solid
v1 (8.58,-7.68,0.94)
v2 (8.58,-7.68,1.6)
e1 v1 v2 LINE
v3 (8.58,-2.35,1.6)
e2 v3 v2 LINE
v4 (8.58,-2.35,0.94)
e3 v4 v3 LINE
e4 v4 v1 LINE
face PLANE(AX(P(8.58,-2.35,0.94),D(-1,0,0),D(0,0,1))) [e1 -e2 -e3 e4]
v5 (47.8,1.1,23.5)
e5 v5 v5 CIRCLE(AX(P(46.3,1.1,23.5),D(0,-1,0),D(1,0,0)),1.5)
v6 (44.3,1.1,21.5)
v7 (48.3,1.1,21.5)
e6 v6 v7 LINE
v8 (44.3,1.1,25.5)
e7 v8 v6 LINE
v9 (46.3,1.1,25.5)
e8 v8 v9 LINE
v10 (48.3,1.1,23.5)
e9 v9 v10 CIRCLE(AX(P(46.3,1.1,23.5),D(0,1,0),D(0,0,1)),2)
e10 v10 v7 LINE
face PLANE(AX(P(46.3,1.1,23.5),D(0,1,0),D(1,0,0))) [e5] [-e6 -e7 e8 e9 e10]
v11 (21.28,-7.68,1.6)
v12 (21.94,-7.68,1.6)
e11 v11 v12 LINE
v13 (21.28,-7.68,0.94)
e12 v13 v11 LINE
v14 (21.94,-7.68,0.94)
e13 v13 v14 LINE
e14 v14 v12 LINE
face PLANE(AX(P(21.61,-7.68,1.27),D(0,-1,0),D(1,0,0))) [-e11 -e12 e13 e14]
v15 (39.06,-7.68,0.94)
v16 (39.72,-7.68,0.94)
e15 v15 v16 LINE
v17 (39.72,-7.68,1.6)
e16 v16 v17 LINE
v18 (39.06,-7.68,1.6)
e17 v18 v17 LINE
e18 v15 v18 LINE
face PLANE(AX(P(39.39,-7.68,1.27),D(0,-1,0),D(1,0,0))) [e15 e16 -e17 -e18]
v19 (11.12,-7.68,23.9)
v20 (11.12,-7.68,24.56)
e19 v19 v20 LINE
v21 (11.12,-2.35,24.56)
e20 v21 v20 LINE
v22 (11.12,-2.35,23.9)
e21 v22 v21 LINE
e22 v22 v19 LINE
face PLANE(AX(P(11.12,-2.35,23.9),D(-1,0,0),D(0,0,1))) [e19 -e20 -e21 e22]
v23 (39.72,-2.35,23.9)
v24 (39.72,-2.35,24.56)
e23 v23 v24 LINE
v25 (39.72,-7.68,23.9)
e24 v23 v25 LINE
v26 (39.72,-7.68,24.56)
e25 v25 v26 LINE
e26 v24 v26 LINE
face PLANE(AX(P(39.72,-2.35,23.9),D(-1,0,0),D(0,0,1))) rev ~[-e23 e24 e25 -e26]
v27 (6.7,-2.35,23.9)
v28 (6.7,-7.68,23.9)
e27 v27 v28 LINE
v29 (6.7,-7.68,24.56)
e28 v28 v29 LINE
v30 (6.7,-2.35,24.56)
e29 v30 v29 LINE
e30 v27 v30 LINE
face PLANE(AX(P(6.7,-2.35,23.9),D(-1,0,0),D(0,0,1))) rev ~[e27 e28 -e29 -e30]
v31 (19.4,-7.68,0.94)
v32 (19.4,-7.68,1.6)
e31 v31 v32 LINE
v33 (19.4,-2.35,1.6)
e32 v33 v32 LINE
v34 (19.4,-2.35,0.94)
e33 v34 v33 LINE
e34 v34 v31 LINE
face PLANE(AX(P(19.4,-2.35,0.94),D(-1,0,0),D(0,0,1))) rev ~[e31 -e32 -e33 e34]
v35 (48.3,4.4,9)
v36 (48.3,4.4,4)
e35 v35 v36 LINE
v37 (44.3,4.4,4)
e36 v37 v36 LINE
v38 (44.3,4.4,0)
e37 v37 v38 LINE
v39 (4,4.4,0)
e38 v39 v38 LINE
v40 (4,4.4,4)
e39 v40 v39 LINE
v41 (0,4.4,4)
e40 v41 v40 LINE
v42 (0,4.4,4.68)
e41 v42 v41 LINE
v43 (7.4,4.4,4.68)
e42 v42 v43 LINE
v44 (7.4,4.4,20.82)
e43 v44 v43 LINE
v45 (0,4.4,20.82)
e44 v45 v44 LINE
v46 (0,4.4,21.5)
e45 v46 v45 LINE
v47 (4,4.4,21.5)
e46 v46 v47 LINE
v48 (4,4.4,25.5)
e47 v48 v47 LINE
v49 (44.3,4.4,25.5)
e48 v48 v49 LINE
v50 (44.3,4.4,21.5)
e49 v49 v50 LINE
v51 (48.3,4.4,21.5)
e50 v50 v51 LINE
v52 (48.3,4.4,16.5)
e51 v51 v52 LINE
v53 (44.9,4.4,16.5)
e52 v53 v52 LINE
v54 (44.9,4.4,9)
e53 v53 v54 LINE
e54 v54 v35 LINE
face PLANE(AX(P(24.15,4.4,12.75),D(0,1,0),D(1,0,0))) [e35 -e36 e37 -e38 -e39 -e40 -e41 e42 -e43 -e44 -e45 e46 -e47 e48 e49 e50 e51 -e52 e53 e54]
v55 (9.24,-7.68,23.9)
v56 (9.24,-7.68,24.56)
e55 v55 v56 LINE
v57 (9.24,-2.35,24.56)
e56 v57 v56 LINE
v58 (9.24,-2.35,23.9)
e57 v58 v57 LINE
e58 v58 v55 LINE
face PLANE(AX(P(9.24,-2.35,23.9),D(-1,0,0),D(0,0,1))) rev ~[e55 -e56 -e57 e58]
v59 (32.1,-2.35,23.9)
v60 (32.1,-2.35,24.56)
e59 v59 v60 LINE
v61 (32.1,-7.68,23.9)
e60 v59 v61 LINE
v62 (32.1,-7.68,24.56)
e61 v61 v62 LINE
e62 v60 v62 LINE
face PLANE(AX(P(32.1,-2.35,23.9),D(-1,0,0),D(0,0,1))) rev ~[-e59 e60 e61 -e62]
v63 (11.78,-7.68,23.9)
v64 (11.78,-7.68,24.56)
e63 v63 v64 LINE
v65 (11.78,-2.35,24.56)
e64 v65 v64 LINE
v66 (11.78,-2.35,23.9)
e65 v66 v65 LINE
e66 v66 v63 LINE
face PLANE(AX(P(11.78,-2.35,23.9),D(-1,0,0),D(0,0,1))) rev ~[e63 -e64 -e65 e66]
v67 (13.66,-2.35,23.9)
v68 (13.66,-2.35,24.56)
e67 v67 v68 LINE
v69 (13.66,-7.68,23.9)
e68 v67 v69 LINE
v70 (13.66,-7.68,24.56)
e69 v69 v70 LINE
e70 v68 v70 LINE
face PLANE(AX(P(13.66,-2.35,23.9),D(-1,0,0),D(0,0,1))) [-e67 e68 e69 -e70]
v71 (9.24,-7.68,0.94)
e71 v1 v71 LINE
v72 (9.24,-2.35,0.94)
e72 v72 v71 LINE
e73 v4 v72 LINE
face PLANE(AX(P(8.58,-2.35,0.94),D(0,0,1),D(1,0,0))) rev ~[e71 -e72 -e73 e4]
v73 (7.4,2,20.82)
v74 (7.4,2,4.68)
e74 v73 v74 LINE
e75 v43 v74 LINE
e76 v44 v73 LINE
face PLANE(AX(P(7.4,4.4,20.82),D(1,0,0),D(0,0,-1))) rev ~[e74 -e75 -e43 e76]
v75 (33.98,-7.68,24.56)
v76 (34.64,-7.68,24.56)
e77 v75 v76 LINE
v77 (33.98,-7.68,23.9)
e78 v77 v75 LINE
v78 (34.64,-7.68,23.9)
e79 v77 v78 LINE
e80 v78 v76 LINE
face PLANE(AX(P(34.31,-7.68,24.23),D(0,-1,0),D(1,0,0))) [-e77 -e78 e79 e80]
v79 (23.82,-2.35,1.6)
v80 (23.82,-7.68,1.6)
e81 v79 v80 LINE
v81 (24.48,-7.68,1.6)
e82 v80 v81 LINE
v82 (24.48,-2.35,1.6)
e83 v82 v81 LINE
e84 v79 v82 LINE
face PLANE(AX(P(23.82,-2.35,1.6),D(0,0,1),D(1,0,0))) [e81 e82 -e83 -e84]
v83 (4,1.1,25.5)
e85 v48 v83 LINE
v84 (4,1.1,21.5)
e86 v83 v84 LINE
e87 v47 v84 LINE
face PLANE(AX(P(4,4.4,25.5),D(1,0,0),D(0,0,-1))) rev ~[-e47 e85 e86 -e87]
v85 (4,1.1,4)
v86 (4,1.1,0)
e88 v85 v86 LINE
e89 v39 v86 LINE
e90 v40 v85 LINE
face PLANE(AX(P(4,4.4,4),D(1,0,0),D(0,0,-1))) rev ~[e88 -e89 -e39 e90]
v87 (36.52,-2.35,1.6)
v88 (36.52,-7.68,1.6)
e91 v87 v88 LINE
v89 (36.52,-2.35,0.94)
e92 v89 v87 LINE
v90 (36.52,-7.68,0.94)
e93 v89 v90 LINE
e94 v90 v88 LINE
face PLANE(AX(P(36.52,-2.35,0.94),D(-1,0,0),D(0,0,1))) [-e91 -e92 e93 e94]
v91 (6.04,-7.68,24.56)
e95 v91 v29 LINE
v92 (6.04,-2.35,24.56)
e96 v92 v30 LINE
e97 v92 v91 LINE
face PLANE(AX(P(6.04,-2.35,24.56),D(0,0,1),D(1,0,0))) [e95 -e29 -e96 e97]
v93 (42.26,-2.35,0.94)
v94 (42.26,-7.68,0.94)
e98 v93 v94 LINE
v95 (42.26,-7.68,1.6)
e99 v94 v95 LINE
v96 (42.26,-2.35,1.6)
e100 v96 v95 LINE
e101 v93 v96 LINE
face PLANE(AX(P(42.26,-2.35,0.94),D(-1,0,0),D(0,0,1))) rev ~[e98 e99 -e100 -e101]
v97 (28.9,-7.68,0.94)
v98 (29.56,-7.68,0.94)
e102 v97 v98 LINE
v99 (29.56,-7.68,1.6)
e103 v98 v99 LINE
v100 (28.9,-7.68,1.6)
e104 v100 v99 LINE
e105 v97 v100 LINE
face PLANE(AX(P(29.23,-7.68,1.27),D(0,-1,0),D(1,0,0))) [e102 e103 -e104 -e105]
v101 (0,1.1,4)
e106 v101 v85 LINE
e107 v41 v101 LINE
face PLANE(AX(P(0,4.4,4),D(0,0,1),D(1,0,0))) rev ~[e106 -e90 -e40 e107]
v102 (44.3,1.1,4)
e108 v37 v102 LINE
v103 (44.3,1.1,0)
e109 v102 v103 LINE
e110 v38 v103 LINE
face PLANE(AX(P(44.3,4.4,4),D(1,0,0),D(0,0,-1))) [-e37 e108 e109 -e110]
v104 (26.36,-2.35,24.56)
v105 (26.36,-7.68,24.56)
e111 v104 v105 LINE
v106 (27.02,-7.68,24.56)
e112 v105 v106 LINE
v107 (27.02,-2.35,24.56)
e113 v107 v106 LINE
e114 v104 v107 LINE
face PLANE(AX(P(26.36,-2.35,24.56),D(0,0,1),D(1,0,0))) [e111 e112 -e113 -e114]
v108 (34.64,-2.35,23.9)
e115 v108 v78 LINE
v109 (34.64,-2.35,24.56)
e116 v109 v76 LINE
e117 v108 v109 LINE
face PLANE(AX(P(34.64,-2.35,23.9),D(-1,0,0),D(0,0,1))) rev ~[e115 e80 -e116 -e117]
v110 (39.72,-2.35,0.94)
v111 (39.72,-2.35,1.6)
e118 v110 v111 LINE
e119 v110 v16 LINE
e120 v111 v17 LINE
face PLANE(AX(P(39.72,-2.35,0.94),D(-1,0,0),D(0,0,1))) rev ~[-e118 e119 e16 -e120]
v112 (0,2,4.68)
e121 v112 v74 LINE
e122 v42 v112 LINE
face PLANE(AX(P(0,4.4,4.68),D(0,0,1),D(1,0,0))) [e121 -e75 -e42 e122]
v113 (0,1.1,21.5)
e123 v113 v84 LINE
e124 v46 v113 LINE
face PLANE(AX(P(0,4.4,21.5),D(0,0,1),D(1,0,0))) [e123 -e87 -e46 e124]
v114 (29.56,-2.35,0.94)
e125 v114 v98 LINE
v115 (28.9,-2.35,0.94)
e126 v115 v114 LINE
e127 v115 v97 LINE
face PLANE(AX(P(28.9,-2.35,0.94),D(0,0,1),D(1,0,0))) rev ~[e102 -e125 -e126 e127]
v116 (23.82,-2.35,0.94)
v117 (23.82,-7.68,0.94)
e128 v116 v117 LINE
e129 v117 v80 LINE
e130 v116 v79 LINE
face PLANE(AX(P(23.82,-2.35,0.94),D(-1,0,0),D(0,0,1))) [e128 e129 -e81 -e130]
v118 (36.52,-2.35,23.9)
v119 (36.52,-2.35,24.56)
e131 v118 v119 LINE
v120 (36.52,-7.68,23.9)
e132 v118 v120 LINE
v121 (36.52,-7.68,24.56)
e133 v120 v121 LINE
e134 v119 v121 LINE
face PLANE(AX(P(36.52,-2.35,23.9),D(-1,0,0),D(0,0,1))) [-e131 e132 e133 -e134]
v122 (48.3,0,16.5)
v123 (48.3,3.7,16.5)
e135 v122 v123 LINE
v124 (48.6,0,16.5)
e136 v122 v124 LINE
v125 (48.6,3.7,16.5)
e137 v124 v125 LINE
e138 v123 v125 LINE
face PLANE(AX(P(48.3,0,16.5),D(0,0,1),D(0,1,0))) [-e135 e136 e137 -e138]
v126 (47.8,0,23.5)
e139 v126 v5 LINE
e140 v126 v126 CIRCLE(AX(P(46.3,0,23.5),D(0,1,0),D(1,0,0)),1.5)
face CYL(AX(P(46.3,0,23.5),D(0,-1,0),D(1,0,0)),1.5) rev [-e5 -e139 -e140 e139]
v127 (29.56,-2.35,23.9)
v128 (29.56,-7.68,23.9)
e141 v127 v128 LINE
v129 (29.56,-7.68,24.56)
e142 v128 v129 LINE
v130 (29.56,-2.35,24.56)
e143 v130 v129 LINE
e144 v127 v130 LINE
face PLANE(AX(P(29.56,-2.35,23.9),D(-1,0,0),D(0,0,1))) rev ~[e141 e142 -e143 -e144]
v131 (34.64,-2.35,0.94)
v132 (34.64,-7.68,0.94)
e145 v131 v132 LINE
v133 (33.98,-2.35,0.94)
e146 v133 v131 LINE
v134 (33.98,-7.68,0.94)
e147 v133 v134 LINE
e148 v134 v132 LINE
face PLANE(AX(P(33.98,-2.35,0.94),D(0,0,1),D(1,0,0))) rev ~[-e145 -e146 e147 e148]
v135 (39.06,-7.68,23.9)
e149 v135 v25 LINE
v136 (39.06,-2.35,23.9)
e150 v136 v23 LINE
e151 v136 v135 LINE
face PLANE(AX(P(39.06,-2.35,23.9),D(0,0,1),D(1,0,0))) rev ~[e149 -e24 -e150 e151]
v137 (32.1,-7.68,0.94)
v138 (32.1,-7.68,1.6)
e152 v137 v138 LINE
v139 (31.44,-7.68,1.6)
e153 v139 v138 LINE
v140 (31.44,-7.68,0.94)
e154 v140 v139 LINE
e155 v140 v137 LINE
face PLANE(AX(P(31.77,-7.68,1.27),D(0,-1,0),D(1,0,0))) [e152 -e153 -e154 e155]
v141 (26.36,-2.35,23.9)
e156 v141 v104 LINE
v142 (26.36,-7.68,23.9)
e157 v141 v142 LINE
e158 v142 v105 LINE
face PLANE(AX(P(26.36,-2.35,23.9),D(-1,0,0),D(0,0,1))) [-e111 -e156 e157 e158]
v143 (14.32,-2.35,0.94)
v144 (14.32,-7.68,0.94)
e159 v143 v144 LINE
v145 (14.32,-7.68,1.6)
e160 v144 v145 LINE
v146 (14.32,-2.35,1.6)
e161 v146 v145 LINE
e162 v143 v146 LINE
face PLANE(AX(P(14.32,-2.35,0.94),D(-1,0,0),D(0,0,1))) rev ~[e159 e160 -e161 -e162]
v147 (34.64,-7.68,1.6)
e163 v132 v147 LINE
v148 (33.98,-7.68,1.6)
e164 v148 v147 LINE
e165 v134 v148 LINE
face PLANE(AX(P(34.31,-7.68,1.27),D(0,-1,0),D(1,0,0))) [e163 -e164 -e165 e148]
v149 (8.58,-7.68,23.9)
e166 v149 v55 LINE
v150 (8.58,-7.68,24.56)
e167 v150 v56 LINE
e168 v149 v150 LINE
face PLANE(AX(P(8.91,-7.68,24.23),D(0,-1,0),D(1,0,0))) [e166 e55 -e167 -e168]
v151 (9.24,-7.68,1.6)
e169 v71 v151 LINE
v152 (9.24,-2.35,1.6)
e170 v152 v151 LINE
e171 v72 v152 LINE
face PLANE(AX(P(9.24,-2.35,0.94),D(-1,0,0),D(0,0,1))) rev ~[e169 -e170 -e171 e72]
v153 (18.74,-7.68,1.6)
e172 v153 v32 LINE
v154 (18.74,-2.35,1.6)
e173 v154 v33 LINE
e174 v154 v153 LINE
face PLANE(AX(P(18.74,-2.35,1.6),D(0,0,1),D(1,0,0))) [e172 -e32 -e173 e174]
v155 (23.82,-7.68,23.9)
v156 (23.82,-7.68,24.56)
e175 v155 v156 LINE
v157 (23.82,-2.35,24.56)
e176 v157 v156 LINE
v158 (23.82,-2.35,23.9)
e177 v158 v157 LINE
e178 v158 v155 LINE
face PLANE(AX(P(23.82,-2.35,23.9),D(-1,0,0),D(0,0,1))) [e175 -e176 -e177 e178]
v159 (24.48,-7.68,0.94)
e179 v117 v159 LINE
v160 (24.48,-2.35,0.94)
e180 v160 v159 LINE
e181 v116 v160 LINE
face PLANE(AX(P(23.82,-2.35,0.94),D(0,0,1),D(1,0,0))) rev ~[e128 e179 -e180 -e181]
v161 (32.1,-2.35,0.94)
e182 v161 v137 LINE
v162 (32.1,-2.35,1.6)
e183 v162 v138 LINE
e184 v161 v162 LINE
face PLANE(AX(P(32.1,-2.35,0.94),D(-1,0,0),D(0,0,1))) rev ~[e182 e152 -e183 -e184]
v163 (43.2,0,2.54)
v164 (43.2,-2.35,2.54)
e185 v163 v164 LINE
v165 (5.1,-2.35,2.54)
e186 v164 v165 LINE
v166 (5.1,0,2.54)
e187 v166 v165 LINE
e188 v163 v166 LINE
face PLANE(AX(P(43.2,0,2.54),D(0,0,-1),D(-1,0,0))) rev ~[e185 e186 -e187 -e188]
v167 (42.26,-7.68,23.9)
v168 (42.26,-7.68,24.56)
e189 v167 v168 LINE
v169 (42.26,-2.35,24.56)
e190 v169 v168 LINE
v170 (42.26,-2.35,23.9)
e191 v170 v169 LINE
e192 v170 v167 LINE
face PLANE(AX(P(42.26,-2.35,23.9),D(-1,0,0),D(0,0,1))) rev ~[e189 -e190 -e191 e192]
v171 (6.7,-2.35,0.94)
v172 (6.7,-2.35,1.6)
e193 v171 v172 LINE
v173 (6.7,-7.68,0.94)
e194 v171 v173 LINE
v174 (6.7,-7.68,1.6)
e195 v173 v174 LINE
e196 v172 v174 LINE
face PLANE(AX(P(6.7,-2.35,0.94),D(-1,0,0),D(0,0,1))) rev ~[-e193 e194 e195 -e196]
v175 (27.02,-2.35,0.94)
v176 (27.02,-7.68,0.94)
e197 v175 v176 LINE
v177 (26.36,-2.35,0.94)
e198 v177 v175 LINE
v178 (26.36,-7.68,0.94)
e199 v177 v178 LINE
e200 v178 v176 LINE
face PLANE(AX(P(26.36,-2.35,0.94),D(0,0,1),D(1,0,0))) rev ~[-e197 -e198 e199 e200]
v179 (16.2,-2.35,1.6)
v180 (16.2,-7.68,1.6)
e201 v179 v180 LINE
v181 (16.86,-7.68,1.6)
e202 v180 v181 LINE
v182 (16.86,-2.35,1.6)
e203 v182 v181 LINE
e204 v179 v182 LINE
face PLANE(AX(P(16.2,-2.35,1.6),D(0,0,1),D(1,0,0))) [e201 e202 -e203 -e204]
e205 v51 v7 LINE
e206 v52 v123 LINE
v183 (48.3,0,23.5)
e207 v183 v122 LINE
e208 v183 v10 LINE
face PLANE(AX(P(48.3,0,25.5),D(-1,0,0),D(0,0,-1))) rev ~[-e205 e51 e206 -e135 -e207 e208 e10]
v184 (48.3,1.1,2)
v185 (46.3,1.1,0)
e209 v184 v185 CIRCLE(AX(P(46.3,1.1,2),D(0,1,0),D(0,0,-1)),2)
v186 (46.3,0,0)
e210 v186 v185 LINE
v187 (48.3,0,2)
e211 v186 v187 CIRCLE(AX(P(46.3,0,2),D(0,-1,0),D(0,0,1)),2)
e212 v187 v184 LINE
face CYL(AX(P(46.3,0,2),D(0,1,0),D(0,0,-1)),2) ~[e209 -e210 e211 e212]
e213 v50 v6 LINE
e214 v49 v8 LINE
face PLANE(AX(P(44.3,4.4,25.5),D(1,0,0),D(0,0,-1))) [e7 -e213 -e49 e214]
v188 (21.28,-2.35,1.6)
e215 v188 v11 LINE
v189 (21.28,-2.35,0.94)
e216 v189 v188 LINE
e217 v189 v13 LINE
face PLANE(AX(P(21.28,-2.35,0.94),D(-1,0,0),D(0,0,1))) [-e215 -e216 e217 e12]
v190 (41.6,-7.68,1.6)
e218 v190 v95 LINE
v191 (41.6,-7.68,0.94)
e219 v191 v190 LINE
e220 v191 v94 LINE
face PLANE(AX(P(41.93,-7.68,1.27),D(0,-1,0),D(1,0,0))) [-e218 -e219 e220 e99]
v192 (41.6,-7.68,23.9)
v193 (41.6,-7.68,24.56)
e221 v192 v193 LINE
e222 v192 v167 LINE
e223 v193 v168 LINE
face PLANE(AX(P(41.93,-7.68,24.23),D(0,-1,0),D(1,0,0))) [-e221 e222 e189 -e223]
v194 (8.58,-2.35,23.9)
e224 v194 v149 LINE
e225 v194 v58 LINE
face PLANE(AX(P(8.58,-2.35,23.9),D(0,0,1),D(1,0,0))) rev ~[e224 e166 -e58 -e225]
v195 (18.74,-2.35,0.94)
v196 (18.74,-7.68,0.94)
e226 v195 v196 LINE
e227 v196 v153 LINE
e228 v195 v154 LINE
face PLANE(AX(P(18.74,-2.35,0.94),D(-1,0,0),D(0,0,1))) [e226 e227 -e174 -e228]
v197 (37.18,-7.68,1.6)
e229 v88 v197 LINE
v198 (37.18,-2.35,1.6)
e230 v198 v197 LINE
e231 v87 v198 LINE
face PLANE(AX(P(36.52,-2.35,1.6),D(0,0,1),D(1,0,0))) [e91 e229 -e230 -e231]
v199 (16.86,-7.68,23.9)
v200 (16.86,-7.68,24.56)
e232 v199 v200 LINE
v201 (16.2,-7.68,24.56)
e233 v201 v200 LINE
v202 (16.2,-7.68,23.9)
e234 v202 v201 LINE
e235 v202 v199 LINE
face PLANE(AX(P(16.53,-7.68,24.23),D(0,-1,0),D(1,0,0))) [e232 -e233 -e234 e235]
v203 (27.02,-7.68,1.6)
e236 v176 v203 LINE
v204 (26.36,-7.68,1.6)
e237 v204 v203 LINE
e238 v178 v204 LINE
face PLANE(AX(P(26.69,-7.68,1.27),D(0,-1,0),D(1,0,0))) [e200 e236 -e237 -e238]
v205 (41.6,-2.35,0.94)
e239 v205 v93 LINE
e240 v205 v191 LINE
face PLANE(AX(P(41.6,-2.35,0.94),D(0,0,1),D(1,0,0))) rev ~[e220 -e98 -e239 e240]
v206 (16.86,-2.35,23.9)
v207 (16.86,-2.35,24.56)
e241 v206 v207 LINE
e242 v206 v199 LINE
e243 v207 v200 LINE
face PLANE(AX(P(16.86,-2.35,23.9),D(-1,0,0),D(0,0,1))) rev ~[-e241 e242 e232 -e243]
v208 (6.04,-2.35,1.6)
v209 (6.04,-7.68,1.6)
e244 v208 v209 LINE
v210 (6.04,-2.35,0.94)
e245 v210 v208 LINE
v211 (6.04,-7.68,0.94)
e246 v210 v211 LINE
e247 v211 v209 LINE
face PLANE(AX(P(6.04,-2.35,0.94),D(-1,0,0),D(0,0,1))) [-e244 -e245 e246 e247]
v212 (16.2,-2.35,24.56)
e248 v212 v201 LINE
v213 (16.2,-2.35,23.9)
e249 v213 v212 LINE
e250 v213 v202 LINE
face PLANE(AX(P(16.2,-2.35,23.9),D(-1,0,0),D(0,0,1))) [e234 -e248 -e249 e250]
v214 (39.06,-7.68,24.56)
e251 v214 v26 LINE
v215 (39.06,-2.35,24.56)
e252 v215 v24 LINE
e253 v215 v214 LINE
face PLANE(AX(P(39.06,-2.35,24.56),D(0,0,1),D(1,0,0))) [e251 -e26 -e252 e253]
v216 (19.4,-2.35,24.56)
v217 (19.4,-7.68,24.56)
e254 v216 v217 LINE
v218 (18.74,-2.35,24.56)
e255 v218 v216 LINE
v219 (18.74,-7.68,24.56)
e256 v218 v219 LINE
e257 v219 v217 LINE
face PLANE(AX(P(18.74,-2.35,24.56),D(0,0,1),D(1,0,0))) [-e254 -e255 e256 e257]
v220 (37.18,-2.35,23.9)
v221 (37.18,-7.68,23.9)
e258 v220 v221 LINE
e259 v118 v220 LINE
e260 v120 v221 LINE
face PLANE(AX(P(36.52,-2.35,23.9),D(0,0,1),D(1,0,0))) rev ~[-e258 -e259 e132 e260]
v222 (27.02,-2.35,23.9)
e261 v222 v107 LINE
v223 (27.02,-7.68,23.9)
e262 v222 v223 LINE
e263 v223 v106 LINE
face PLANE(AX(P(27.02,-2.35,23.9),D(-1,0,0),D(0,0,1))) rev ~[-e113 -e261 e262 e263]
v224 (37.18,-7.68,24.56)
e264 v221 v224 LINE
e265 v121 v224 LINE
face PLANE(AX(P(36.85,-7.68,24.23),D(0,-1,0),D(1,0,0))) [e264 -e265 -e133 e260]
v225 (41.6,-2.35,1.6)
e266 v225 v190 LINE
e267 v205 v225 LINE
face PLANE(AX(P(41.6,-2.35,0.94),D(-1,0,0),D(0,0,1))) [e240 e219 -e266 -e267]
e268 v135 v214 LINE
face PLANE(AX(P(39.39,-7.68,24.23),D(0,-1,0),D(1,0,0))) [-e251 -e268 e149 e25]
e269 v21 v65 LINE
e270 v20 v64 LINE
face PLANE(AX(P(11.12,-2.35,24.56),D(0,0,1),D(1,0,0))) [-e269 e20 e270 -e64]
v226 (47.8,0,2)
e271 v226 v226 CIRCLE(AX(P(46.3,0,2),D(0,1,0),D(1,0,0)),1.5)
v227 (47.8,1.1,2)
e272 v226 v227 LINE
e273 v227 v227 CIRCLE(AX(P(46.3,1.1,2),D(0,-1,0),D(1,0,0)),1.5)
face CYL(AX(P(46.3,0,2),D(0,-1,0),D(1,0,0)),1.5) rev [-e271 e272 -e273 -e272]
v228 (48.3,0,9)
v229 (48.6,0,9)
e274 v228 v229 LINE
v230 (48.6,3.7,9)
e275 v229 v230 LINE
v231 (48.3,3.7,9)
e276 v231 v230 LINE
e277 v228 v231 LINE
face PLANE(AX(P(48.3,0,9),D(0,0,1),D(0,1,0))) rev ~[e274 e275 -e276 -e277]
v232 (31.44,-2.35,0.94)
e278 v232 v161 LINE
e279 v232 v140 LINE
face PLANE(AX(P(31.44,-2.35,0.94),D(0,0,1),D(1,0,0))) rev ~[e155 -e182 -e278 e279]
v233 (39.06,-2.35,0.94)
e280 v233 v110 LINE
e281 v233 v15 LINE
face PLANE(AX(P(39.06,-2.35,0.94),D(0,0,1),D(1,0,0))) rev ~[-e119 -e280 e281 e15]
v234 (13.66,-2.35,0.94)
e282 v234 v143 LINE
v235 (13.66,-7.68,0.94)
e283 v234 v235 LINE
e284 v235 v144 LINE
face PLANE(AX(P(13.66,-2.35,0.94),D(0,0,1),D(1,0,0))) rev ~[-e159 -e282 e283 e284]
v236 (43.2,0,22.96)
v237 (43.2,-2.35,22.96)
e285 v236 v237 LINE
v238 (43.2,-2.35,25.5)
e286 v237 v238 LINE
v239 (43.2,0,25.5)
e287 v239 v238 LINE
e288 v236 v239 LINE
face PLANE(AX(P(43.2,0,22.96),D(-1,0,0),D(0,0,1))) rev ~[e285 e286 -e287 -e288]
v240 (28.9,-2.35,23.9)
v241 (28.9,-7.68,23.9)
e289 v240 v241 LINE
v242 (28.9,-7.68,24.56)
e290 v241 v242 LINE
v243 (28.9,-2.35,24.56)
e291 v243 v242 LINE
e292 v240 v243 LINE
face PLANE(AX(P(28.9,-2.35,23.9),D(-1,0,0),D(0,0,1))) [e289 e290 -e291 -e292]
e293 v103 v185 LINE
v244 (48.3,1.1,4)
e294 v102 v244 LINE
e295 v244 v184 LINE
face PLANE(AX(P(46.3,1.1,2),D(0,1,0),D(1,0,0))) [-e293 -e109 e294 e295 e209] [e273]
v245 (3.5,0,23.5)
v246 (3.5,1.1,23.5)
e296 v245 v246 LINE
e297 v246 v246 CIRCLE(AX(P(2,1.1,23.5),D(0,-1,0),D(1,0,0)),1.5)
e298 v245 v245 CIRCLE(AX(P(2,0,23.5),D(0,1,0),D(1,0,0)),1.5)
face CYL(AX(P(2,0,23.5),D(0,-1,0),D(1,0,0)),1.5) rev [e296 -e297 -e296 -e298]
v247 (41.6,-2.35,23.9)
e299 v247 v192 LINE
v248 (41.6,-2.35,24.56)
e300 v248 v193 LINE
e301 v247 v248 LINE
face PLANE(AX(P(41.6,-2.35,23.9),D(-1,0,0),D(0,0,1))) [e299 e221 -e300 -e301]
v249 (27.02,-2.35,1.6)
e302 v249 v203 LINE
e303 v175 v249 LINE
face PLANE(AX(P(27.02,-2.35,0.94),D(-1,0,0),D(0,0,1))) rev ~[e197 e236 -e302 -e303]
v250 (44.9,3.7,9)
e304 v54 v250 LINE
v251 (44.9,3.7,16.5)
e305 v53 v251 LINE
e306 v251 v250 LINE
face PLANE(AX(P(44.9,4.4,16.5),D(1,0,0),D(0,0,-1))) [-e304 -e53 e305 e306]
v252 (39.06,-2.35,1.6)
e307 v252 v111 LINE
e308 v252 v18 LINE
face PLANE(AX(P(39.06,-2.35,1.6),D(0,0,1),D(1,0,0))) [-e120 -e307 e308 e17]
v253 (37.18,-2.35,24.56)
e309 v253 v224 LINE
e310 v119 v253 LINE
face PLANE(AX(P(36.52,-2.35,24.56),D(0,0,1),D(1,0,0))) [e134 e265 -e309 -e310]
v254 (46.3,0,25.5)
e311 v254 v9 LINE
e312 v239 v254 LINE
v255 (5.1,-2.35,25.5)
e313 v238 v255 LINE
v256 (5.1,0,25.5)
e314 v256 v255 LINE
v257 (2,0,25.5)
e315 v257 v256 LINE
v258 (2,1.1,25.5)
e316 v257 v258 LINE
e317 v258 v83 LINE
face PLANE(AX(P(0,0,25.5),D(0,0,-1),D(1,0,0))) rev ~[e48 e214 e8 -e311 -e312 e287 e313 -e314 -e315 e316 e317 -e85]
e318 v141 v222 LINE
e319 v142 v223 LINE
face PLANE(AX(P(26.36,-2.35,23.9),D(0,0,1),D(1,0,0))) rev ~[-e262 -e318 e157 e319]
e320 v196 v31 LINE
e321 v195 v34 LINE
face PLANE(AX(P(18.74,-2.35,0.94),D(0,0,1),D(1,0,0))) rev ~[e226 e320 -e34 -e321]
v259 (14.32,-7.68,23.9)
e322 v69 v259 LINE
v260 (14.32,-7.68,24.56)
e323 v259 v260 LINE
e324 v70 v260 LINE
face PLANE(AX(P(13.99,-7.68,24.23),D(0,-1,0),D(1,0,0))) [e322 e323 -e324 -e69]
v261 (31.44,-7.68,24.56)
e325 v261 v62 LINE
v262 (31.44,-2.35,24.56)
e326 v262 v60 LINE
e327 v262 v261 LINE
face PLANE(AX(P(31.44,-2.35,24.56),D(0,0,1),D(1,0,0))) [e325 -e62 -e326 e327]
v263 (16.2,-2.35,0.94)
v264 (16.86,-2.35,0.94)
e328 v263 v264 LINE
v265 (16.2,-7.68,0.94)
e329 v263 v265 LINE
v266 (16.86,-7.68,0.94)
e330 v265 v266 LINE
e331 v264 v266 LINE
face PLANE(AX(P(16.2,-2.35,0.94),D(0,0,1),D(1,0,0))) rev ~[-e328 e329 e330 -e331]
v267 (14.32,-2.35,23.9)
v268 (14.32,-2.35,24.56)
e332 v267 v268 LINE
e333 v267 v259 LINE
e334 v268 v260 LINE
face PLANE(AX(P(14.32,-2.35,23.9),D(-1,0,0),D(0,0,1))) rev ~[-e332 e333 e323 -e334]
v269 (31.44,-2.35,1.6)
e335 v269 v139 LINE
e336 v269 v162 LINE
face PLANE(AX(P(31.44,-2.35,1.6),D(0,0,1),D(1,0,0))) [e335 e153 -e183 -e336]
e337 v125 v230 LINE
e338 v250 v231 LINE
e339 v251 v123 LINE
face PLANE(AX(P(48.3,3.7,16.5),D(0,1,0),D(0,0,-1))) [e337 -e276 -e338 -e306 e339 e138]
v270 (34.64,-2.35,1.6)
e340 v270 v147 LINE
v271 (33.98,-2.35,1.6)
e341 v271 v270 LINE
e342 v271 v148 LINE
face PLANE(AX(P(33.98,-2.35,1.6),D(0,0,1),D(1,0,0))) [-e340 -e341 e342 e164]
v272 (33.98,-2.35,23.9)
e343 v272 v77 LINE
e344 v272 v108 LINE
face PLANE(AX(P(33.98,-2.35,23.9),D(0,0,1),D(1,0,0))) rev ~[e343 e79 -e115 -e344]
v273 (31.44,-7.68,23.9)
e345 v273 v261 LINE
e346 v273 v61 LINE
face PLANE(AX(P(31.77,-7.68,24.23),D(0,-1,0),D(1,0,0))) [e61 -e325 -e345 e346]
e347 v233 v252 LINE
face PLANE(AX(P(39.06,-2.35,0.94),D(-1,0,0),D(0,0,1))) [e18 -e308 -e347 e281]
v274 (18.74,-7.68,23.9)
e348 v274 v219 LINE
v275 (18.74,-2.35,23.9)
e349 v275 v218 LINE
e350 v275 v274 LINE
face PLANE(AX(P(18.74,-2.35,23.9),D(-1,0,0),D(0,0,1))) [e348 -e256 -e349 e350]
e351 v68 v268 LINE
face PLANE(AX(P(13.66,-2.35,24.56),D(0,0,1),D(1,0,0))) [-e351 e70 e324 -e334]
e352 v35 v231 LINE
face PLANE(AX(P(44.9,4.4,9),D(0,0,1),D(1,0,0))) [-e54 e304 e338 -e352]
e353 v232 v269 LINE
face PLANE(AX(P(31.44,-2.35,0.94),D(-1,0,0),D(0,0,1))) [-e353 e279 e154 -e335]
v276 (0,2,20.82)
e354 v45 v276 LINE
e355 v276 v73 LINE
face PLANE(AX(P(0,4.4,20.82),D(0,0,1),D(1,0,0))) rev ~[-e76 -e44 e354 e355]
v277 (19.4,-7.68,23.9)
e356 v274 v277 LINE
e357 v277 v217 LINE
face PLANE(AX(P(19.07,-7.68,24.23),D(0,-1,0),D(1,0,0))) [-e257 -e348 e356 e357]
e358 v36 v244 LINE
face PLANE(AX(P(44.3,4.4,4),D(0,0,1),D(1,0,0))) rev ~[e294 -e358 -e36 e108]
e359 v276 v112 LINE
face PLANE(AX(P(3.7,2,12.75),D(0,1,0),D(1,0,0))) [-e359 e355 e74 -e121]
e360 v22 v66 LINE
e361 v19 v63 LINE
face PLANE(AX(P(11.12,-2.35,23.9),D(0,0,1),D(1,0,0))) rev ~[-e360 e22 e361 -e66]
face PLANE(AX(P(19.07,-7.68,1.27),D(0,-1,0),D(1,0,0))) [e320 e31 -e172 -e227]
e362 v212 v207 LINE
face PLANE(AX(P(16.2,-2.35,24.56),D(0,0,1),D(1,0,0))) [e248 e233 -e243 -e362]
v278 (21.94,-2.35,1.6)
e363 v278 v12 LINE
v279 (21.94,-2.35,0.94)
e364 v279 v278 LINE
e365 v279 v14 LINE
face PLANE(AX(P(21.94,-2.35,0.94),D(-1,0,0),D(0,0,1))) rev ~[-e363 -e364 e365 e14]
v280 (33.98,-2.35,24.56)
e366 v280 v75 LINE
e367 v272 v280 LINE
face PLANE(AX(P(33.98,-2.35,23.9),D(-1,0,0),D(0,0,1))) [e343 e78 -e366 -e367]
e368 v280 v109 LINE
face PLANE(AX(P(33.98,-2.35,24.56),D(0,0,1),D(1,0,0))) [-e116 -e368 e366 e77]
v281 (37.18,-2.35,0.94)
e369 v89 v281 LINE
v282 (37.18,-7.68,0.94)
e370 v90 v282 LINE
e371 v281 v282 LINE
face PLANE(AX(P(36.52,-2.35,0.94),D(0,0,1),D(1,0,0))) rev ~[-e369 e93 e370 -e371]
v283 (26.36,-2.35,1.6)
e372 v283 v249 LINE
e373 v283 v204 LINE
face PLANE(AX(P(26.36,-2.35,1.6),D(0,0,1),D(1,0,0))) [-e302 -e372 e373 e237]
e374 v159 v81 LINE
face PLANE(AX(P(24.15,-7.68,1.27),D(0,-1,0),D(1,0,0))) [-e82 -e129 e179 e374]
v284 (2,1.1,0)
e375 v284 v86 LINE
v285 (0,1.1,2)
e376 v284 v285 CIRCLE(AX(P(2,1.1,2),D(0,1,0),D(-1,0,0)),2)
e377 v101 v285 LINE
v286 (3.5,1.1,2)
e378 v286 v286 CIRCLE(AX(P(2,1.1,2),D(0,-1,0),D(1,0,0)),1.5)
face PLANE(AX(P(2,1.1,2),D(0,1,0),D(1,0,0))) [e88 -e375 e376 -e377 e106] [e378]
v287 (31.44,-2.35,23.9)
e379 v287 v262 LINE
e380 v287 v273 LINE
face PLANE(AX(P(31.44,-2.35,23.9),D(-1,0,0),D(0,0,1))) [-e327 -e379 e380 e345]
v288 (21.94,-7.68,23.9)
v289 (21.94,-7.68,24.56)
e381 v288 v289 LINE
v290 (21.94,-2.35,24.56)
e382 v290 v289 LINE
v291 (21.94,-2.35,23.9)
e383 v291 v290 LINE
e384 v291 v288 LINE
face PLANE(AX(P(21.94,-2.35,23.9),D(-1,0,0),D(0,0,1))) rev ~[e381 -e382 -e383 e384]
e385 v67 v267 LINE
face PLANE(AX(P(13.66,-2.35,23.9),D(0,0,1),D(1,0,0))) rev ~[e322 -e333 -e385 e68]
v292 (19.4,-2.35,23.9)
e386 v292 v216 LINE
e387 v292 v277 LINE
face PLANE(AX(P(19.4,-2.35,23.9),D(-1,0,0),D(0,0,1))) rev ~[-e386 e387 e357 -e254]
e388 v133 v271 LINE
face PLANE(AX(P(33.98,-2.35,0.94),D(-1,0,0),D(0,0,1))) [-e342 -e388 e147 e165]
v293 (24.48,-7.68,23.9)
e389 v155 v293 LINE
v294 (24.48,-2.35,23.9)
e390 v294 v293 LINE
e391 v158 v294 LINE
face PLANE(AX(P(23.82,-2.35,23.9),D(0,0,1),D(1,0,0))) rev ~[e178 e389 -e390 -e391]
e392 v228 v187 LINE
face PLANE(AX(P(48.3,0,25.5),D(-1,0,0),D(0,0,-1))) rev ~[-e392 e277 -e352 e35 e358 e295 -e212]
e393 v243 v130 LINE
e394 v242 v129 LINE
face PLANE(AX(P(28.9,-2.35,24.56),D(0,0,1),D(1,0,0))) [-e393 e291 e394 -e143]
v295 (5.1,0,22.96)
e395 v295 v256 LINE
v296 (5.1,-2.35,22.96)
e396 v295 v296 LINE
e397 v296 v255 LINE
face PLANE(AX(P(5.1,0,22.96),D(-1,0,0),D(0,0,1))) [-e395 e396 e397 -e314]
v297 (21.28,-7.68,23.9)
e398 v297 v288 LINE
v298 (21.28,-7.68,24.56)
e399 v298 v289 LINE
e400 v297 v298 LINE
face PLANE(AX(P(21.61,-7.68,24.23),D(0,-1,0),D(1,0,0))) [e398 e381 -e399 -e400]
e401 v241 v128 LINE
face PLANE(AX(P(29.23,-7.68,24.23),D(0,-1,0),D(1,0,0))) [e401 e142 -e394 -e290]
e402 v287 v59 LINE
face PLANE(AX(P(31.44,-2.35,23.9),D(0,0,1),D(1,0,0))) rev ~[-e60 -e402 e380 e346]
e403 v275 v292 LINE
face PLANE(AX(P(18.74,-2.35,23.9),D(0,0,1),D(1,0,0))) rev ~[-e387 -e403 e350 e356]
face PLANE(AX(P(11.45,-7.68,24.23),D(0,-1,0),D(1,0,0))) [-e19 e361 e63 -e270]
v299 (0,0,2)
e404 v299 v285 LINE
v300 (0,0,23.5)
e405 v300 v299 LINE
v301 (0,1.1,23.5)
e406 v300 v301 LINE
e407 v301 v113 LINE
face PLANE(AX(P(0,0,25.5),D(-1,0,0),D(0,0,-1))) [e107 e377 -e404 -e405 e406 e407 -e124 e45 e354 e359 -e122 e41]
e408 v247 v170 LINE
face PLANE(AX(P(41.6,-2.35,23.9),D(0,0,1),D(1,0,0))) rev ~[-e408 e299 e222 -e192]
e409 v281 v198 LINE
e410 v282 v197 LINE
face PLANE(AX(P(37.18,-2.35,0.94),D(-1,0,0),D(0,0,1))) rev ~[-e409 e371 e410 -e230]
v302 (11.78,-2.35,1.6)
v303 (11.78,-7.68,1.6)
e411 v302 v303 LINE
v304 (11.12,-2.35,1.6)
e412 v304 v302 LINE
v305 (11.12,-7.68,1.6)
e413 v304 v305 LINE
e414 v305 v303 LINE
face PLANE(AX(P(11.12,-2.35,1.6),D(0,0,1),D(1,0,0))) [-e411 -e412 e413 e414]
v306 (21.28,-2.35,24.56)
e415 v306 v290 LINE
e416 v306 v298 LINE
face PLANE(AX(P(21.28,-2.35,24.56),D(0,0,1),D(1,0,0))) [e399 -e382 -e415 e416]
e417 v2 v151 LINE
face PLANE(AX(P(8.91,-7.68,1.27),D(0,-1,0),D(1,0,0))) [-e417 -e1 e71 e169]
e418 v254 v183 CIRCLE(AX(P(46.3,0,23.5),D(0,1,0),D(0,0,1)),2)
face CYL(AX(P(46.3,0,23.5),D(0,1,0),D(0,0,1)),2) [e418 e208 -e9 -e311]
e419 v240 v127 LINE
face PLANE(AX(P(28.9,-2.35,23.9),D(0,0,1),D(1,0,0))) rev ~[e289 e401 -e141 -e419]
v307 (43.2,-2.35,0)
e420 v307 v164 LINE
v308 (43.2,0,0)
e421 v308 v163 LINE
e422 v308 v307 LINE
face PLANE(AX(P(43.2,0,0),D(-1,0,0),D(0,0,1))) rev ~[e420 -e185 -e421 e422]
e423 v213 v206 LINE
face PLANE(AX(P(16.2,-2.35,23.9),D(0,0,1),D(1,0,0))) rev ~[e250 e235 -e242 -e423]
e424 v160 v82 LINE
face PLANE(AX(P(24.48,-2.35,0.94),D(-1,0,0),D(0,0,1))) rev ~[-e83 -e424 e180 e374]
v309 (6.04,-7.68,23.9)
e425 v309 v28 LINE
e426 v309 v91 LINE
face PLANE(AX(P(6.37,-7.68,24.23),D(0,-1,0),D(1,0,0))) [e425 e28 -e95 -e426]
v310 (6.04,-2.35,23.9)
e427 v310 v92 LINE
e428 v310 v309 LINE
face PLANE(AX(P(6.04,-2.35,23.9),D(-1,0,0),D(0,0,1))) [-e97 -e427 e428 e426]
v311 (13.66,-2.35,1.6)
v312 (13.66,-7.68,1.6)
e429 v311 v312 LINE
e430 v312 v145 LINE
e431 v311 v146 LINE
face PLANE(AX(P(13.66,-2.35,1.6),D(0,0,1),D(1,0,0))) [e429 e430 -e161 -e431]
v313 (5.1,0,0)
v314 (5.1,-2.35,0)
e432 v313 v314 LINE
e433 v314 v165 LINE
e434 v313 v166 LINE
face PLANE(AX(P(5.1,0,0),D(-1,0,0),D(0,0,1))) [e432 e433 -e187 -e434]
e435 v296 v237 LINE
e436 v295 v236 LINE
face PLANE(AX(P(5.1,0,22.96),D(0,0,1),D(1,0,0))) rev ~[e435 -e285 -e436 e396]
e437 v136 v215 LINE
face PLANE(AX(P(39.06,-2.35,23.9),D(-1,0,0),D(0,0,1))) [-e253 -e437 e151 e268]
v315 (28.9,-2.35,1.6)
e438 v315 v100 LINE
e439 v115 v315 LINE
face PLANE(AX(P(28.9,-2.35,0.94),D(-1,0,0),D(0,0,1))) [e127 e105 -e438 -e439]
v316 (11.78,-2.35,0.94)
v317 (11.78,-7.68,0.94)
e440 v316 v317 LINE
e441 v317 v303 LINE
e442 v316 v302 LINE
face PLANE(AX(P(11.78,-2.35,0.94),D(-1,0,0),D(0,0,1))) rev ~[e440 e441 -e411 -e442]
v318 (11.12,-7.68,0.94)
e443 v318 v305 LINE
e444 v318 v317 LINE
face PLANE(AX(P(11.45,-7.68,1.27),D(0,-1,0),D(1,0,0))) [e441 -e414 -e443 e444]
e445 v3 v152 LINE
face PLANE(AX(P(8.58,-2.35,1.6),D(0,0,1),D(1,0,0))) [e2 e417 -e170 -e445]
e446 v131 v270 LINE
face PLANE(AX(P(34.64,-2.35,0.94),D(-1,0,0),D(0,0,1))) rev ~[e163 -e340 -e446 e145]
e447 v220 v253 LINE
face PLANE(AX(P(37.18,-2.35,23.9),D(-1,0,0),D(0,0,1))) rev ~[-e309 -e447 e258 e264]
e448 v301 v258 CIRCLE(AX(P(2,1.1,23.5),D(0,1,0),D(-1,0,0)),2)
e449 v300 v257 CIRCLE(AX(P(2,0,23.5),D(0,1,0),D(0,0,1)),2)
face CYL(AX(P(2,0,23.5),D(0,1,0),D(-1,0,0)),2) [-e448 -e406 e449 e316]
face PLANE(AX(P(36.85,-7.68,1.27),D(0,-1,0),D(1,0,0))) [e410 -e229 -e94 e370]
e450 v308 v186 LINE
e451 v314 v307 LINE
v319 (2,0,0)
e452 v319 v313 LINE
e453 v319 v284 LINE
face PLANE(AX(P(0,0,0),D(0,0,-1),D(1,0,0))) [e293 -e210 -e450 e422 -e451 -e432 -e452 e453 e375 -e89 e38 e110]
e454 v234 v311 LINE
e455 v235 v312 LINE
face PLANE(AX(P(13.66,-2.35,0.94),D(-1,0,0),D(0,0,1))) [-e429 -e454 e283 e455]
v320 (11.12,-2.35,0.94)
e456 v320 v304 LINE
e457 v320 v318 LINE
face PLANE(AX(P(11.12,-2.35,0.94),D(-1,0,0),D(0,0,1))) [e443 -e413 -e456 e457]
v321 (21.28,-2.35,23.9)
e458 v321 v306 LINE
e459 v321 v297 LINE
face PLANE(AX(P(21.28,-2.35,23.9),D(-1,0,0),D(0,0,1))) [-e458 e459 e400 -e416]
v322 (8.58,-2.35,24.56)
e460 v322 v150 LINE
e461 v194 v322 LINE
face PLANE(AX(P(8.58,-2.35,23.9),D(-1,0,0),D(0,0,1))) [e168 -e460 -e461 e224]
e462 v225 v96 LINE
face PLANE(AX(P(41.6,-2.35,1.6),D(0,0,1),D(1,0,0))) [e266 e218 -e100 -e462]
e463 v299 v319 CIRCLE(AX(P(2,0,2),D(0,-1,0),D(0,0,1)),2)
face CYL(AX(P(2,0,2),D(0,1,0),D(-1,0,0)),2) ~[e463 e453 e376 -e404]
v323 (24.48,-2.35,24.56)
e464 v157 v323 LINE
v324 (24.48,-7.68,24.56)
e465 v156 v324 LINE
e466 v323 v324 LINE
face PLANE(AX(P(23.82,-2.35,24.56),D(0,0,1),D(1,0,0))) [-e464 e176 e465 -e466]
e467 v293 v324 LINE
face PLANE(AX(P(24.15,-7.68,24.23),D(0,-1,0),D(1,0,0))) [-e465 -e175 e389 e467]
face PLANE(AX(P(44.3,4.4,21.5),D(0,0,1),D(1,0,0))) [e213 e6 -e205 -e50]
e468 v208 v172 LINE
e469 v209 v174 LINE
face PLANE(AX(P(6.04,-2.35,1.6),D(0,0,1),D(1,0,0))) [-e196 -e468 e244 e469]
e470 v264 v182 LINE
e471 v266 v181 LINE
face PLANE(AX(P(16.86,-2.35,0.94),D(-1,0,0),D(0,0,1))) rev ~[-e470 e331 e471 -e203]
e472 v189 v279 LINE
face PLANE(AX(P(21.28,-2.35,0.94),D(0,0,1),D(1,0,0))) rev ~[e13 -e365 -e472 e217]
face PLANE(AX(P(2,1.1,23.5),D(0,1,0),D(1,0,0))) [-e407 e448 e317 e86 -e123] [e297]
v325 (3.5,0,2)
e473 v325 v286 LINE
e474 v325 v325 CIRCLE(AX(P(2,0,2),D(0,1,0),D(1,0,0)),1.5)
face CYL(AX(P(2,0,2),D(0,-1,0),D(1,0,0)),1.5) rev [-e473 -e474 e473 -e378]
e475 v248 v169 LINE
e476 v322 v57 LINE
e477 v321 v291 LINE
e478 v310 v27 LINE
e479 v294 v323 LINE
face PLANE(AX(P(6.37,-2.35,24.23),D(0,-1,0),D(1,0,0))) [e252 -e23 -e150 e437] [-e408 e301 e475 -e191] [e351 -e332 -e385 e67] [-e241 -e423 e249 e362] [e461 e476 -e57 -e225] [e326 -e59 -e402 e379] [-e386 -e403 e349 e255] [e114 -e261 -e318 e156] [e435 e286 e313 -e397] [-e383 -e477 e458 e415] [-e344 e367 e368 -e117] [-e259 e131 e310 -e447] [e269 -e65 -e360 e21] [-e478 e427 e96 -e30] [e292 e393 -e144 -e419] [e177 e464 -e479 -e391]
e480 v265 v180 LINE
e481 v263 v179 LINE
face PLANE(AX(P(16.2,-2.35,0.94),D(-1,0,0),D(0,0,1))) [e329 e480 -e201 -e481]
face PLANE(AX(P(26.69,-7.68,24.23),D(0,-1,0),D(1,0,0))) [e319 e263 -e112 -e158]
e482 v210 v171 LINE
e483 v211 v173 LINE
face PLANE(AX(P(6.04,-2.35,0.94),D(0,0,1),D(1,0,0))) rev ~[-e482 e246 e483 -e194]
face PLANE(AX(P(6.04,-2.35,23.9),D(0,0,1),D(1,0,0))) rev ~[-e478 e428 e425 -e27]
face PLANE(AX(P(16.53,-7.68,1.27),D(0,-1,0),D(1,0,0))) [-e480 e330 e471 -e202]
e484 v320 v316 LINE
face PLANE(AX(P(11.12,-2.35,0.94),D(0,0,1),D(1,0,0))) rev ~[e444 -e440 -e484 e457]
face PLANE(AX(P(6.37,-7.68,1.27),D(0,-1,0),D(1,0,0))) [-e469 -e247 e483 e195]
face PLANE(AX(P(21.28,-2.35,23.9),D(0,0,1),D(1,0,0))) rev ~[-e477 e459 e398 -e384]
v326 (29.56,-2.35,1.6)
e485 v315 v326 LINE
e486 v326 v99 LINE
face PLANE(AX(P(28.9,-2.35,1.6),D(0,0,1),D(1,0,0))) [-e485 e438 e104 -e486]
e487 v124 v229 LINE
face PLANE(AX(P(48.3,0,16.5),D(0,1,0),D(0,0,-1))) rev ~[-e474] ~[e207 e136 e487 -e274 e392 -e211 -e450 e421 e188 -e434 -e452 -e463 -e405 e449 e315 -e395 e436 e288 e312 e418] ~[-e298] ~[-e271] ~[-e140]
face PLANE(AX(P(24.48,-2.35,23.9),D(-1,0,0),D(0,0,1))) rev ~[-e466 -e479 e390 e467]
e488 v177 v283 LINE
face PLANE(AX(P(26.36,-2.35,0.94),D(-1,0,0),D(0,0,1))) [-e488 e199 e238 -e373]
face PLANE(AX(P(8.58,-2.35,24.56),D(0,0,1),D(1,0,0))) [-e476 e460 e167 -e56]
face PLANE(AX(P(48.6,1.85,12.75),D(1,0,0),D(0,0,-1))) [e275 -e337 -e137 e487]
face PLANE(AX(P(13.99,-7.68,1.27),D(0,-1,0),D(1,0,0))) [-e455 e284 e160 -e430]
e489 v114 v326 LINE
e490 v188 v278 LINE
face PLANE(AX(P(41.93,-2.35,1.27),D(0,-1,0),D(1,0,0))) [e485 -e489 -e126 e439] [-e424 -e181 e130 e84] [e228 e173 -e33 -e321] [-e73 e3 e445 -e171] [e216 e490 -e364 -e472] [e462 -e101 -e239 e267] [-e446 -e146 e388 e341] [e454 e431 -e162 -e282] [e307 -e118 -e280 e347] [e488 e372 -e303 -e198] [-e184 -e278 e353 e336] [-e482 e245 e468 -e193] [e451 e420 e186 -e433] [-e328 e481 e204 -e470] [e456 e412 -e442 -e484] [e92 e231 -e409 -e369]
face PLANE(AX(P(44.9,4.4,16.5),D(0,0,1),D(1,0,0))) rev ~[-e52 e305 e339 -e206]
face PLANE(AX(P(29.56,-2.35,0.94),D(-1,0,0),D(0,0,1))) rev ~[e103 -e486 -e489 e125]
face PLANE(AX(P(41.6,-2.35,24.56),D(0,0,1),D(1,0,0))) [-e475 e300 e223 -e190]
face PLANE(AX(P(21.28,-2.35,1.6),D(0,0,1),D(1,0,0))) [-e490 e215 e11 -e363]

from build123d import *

# Parameters (mm, degrees)
SKETCH1_W           = 48.3
SKETCH1_H           = 25.5
SKETCH1_R           = 1.5
BOSS_EXTRUDE1_DEPTH = 4.4
FILLET1_R           = 2
SKETCH2_W           = 2.54
SKETCH2_H           = 2.54
BOSS_EXTRUDE2_DEPTH = 2.35
SKETCH3_W           = 0.66
SKETCH3_H           = 0.66
BOSS_EXTRUDE3_DEPTH = 5.33
SKETCH4_W           = 3.4
SKETCH4_H           = 7.5
CUT_EXTRUDE1_DEPTH  = 0.7
SKETCH5_W           = 7.5
SKETCH5_H           = 3.7
BOSS_EXTRUDE4_DEPTH = 0.3
SKETCH6_W           = 7.4
SKETCH6_H           = 16.14
CUT_EXTRUDE2_DEPTH  = 2.4
SKETCH7_W           = 4
SKETCH7_H           = 4
CUT_EXTRUDE3_DEPTH  = 3.3


with BuildPart() as part:
    # Sketch1 → Boss-Extrude1 (new body)
    with BuildSketch(Plane(origin=(0, 0, 0), x_dir=(1, 0, 0), z_dir=(0, 1, 0))):
        with Locations((24.15, -12.75)):
            Rectangle(SKETCH1_W, SKETCH1_H)
        with Locations((46.3, -2)):
            Circle(SKETCH1_R, mode=Mode.SUBTRACT)
        with Locations((2, -2)):
            Circle(SKETCH1_R, mode=Mode.SUBTRACT)
        with Locations((46.3, -23.5)):
            Circle(SKETCH1_R, mode=Mode.SUBTRACT)
        with Locations((2, -23.5)):
            Circle(SKETCH1_R, mode=Mode.SUBTRACT)
    extrude(amount=BOSS_EXTRUDE1_DEPTH)

    # Fillet1
    fillet1_edges = [part.edges().sort_by_distance(p)[0] for p in [
        (48.3, 2.2, 25.5),
        (0, 2.2, 25.5),
        (0, 2.2, 0),
        (48.3, 2.2, 0),
    ]]
    fillet(fillet1_edges, radius=FILLET1_R)

    # Sketch2 → Boss-Extrude2 (add)
    with BuildSketch(Plane.XZ):
        with Locations((6.37, 24.23)):
            Rectangle(SKETCH2_W, SKETCH2_H)
        with Locations((8.91, 24.23)):
            Rectangle(SKETCH2_W, SKETCH2_H)
        with Locations((11.45, 24.23)):
            Rectangle(SKETCH2_W, SKETCH2_H)
        with Locations((13.99, 24.23)):
            Rectangle(SKETCH2_W, SKETCH2_H)
        with Locations((16.53, 24.23)):
            Rectangle(SKETCH2_W, SKETCH2_H)
        with Locations((19.07, 24.23)):
            Rectangle(SKETCH2_W, SKETCH2_H)
        with Locations((21.61, 24.23)):
            Rectangle(SKETCH2_W, SKETCH2_H)
        with Locations((24.15, 24.23)):
            Rectangle(SKETCH2_W, SKETCH2_H)
        with Locations((26.69, 24.23)):
            Rectangle(SKETCH2_W, SKETCH2_H)
        with Locations((29.23, 24.23)):
            Rectangle(SKETCH2_W, SKETCH2_H)
        with Locations((31.77, 24.23)):
            Rectangle(SKETCH2_W, SKETCH2_H)
        with Locations((34.31, 24.23)):
            Rectangle(SKETCH2_W, SKETCH2_H)
        with Locations((36.85, 24.23)):
            Rectangle(SKETCH2_W, SKETCH2_H)
        with Locations((39.39, 24.23)):
            Rectangle(SKETCH2_W, SKETCH2_H)
        with Locations((41.93, 24.23)):
            Rectangle(SKETCH2_W, SKETCH2_H)
        with Locations((41.93, 1.27)):
            Rectangle(SKETCH2_W, SKETCH2_H)
        with Locations((39.39, 1.27)):
            Rectangle(SKETCH2_W, SKETCH2_H)
        with Locations((36.85, 1.27)):
            Rectangle(SKETCH2_W, SKETCH2_H)
        with Locations((34.31, 1.27)):
            Rectangle(SKETCH2_W, SKETCH2_H)
        with Locations((31.77, 1.27)):
            Rectangle(SKETCH2_W, SKETCH2_H)
        with Locations((29.23, 1.27)):
            Rectangle(SKETCH2_W, SKETCH2_H)
        with Locations((26.69, 1.27)):
            Rectangle(SKETCH2_W, SKETCH2_H)
        with Locations((24.15, 1.27)):
            Rectangle(SKETCH2_W, SKETCH2_H)
        with Locations((21.61, 1.27)):
            Rectangle(SKETCH2_W, SKETCH2_H)
        with Locations((19.07, 1.27)):
            Rectangle(SKETCH2_W, SKETCH2_H)
        with Locations((16.53, 1.27)):
            Rectangle(SKETCH2_W, SKETCH2_H)
        with Locations((13.99, 1.27)):
            Rectangle(SKETCH2_W, SKETCH2_H)
        with Locations((11.45, 1.27)):
            Rectangle(SKETCH2_W, SKETCH2_H)
        with Locations((8.91, 1.27)):
            Rectangle(SKETCH2_W, SKETCH2_H)
        with Locations((6.37, 1.27)):
            Rectangle(SKETCH2_W, SKETCH2_H)
    extrude(amount=BOSS_EXTRUDE2_DEPTH)

    # Sketch3 → Boss-Extrude3 (add)
    with BuildSketch(Plane.XZ.offset(2.35)):
        with Locations((6.37, 24.23)):
            Rectangle(SKETCH3_W, SKETCH3_H)
        with Locations((8.91, 24.23)):
            Rectangle(SKETCH3_W, SKETCH3_H)
        with Locations((11.45, 24.23)):
            Rectangle(SKETCH3_W, SKETCH3_H)
        with Locations((13.99, 24.23)):
            Rectangle(SKETCH3_W, SKETCH3_H)
        with Locations((16.53, 24.23)):
            Rectangle(SKETCH3_W, SKETCH3_H)
        with Locations((19.07, 24.23)):
            Rectangle(SKETCH3_W, SKETCH3_H)
        with Locations((21.61, 24.23)):
            Rectangle(SKETCH3_W, SKETCH3_H)
        with Locations((24.15, 24.23)):
            Rectangle(SKETCH3_W, SKETCH3_H)
        with Locations((26.69, 24.23)):
            Rectangle(SKETCH3_W, SKETCH3_H)
        with Locations((29.23, 24.23)):
            Rectangle(SKETCH3_W, SKETCH3_H)
        with Locations((31.77, 24.23)):
            Rectangle(SKETCH3_W, SKETCH3_H)
        with Locations((34.31, 24.23)):
            Rectangle(SKETCH3_W, SKETCH3_H)
        with Locations((36.85, 24.23)):
            Rectangle(SKETCH3_W, SKETCH3_H)
        with Locations((39.39, 24.23)):
            Rectangle(SKETCH3_W, SKETCH3_H)
        with Locations((41.93, 24.23)):
            Rectangle(SKETCH3_W, SKETCH3_H)
        with Locations((41.93, 1.27)):
            Rectangle(SKETCH3_W, SKETCH3_H)
        with Locations((39.39, 1.27)):
            Rectangle(SKETCH3_W, SKETCH3_H)
        with Locations((36.85, 1.27)):
            Rectangle(SKETCH3_W, SKETCH3_H)
        with Locations((34.31, 1.27)):
            Rectangle(SKETCH3_W, SKETCH3_H)
        with Locations((31.77, 1.27)):
            Rectangle(SKETCH3_W, SKETCH3_H)
        with Locations((29.23, 1.27)):
            Rectangle(SKETCH3_W, SKETCH3_H)
        with Locations((26.69, 1.27)):
            Rectangle(SKETCH3_W, SKETCH3_H)
        with Locations((24.15, 1.27)):
            Rectangle(SKETCH3_W, SKETCH3_H)
        with Locations((21.61, 1.27)):
            Rectangle(SKETCH3_W, SKETCH3_H)
        with Locations((19.07, 1.27)):
            Rectangle(SKETCH3_W, SKETCH3_H)
        with Locations((16.53, 1.27)):
            Rectangle(SKETCH3_W, SKETCH3_H)
        with Locations((13.99, 1.27)):
            Rectangle(SKETCH3_W, SKETCH3_H)
        with Locations((11.45, 1.27)):
            Rectangle(SKETCH3_W, SKETCH3_H)
        with Locations((8.91, 1.27)):
            Rectangle(SKETCH3_W, SKETCH3_H)
        with Locations((6.37, 1.27)):
            Rectangle(SKETCH3_W, SKETCH3_H)
    extrude(amount=BOSS_EXTRUDE3_DEPTH)

    # Sketch4 → Cut-Extrude1 (cut)
    with BuildSketch(Plane(origin=(0, 4.4, 0), x_dir=(1, 0, 0), z_dir=(0, 1, 0))):
        with Locations((46.6, -12.75)):
            Rectangle(SKETCH4_W, SKETCH4_H)
    extrude(amount=-CUT_EXTRUDE1_DEPTH, mode=Mode.SUBTRACT)

    # Sketch5 → Boss-Extrude4 (add)
    with BuildSketch(Plane(origin=(48.3, 0, 0), x_dir=(0, 0, -1), z_dir=(1, 0, 0))):
        with Locations((-12.75, 1.85)):
            Rectangle(SKETCH5_W, SKETCH5_H)
    extrude(amount=BOSS_EXTRUDE4_DEPTH)

    # Sketch6 → Cut-Extrude2 (cut)
    with BuildSketch(Plane(origin=(0, 4.4, 0), x_dir=(1, 0, 0), z_dir=(0, 1, 0))):
        with Locations((3.7, -12.75)):
            Rectangle(SKETCH6_W, SKETCH6_H)
    extrude(amount=-CUT_EXTRUDE2_DEPTH, mode=Mode.SUBTRACT)

    # Sketch7 → Cut-Extrude3 (cut)
    with BuildSketch(Plane(origin=(0, 4.4, 0), x_dir=(1, 0, 0), z_dir=(0, 1, 0))):
        with Locations((2, -2)):
            Rectangle(SKETCH7_W, SKETCH7_H)
        with Locations((46.3, -2)):
            Rectangle(SKETCH7_W, SKETCH7_H)
        with Locations((46.3, -23.5)):
            Rectangle(SKETCH7_W, SKETCH7_H)
        with Locations((2, -23.5)):
            Rectangle(SKETCH7_W, SKETCH7_H)
    extrude(amount=-CUT_EXTRUDE3_DEPTH, mode=Mode.SUBTRACT)


solid = part.part
